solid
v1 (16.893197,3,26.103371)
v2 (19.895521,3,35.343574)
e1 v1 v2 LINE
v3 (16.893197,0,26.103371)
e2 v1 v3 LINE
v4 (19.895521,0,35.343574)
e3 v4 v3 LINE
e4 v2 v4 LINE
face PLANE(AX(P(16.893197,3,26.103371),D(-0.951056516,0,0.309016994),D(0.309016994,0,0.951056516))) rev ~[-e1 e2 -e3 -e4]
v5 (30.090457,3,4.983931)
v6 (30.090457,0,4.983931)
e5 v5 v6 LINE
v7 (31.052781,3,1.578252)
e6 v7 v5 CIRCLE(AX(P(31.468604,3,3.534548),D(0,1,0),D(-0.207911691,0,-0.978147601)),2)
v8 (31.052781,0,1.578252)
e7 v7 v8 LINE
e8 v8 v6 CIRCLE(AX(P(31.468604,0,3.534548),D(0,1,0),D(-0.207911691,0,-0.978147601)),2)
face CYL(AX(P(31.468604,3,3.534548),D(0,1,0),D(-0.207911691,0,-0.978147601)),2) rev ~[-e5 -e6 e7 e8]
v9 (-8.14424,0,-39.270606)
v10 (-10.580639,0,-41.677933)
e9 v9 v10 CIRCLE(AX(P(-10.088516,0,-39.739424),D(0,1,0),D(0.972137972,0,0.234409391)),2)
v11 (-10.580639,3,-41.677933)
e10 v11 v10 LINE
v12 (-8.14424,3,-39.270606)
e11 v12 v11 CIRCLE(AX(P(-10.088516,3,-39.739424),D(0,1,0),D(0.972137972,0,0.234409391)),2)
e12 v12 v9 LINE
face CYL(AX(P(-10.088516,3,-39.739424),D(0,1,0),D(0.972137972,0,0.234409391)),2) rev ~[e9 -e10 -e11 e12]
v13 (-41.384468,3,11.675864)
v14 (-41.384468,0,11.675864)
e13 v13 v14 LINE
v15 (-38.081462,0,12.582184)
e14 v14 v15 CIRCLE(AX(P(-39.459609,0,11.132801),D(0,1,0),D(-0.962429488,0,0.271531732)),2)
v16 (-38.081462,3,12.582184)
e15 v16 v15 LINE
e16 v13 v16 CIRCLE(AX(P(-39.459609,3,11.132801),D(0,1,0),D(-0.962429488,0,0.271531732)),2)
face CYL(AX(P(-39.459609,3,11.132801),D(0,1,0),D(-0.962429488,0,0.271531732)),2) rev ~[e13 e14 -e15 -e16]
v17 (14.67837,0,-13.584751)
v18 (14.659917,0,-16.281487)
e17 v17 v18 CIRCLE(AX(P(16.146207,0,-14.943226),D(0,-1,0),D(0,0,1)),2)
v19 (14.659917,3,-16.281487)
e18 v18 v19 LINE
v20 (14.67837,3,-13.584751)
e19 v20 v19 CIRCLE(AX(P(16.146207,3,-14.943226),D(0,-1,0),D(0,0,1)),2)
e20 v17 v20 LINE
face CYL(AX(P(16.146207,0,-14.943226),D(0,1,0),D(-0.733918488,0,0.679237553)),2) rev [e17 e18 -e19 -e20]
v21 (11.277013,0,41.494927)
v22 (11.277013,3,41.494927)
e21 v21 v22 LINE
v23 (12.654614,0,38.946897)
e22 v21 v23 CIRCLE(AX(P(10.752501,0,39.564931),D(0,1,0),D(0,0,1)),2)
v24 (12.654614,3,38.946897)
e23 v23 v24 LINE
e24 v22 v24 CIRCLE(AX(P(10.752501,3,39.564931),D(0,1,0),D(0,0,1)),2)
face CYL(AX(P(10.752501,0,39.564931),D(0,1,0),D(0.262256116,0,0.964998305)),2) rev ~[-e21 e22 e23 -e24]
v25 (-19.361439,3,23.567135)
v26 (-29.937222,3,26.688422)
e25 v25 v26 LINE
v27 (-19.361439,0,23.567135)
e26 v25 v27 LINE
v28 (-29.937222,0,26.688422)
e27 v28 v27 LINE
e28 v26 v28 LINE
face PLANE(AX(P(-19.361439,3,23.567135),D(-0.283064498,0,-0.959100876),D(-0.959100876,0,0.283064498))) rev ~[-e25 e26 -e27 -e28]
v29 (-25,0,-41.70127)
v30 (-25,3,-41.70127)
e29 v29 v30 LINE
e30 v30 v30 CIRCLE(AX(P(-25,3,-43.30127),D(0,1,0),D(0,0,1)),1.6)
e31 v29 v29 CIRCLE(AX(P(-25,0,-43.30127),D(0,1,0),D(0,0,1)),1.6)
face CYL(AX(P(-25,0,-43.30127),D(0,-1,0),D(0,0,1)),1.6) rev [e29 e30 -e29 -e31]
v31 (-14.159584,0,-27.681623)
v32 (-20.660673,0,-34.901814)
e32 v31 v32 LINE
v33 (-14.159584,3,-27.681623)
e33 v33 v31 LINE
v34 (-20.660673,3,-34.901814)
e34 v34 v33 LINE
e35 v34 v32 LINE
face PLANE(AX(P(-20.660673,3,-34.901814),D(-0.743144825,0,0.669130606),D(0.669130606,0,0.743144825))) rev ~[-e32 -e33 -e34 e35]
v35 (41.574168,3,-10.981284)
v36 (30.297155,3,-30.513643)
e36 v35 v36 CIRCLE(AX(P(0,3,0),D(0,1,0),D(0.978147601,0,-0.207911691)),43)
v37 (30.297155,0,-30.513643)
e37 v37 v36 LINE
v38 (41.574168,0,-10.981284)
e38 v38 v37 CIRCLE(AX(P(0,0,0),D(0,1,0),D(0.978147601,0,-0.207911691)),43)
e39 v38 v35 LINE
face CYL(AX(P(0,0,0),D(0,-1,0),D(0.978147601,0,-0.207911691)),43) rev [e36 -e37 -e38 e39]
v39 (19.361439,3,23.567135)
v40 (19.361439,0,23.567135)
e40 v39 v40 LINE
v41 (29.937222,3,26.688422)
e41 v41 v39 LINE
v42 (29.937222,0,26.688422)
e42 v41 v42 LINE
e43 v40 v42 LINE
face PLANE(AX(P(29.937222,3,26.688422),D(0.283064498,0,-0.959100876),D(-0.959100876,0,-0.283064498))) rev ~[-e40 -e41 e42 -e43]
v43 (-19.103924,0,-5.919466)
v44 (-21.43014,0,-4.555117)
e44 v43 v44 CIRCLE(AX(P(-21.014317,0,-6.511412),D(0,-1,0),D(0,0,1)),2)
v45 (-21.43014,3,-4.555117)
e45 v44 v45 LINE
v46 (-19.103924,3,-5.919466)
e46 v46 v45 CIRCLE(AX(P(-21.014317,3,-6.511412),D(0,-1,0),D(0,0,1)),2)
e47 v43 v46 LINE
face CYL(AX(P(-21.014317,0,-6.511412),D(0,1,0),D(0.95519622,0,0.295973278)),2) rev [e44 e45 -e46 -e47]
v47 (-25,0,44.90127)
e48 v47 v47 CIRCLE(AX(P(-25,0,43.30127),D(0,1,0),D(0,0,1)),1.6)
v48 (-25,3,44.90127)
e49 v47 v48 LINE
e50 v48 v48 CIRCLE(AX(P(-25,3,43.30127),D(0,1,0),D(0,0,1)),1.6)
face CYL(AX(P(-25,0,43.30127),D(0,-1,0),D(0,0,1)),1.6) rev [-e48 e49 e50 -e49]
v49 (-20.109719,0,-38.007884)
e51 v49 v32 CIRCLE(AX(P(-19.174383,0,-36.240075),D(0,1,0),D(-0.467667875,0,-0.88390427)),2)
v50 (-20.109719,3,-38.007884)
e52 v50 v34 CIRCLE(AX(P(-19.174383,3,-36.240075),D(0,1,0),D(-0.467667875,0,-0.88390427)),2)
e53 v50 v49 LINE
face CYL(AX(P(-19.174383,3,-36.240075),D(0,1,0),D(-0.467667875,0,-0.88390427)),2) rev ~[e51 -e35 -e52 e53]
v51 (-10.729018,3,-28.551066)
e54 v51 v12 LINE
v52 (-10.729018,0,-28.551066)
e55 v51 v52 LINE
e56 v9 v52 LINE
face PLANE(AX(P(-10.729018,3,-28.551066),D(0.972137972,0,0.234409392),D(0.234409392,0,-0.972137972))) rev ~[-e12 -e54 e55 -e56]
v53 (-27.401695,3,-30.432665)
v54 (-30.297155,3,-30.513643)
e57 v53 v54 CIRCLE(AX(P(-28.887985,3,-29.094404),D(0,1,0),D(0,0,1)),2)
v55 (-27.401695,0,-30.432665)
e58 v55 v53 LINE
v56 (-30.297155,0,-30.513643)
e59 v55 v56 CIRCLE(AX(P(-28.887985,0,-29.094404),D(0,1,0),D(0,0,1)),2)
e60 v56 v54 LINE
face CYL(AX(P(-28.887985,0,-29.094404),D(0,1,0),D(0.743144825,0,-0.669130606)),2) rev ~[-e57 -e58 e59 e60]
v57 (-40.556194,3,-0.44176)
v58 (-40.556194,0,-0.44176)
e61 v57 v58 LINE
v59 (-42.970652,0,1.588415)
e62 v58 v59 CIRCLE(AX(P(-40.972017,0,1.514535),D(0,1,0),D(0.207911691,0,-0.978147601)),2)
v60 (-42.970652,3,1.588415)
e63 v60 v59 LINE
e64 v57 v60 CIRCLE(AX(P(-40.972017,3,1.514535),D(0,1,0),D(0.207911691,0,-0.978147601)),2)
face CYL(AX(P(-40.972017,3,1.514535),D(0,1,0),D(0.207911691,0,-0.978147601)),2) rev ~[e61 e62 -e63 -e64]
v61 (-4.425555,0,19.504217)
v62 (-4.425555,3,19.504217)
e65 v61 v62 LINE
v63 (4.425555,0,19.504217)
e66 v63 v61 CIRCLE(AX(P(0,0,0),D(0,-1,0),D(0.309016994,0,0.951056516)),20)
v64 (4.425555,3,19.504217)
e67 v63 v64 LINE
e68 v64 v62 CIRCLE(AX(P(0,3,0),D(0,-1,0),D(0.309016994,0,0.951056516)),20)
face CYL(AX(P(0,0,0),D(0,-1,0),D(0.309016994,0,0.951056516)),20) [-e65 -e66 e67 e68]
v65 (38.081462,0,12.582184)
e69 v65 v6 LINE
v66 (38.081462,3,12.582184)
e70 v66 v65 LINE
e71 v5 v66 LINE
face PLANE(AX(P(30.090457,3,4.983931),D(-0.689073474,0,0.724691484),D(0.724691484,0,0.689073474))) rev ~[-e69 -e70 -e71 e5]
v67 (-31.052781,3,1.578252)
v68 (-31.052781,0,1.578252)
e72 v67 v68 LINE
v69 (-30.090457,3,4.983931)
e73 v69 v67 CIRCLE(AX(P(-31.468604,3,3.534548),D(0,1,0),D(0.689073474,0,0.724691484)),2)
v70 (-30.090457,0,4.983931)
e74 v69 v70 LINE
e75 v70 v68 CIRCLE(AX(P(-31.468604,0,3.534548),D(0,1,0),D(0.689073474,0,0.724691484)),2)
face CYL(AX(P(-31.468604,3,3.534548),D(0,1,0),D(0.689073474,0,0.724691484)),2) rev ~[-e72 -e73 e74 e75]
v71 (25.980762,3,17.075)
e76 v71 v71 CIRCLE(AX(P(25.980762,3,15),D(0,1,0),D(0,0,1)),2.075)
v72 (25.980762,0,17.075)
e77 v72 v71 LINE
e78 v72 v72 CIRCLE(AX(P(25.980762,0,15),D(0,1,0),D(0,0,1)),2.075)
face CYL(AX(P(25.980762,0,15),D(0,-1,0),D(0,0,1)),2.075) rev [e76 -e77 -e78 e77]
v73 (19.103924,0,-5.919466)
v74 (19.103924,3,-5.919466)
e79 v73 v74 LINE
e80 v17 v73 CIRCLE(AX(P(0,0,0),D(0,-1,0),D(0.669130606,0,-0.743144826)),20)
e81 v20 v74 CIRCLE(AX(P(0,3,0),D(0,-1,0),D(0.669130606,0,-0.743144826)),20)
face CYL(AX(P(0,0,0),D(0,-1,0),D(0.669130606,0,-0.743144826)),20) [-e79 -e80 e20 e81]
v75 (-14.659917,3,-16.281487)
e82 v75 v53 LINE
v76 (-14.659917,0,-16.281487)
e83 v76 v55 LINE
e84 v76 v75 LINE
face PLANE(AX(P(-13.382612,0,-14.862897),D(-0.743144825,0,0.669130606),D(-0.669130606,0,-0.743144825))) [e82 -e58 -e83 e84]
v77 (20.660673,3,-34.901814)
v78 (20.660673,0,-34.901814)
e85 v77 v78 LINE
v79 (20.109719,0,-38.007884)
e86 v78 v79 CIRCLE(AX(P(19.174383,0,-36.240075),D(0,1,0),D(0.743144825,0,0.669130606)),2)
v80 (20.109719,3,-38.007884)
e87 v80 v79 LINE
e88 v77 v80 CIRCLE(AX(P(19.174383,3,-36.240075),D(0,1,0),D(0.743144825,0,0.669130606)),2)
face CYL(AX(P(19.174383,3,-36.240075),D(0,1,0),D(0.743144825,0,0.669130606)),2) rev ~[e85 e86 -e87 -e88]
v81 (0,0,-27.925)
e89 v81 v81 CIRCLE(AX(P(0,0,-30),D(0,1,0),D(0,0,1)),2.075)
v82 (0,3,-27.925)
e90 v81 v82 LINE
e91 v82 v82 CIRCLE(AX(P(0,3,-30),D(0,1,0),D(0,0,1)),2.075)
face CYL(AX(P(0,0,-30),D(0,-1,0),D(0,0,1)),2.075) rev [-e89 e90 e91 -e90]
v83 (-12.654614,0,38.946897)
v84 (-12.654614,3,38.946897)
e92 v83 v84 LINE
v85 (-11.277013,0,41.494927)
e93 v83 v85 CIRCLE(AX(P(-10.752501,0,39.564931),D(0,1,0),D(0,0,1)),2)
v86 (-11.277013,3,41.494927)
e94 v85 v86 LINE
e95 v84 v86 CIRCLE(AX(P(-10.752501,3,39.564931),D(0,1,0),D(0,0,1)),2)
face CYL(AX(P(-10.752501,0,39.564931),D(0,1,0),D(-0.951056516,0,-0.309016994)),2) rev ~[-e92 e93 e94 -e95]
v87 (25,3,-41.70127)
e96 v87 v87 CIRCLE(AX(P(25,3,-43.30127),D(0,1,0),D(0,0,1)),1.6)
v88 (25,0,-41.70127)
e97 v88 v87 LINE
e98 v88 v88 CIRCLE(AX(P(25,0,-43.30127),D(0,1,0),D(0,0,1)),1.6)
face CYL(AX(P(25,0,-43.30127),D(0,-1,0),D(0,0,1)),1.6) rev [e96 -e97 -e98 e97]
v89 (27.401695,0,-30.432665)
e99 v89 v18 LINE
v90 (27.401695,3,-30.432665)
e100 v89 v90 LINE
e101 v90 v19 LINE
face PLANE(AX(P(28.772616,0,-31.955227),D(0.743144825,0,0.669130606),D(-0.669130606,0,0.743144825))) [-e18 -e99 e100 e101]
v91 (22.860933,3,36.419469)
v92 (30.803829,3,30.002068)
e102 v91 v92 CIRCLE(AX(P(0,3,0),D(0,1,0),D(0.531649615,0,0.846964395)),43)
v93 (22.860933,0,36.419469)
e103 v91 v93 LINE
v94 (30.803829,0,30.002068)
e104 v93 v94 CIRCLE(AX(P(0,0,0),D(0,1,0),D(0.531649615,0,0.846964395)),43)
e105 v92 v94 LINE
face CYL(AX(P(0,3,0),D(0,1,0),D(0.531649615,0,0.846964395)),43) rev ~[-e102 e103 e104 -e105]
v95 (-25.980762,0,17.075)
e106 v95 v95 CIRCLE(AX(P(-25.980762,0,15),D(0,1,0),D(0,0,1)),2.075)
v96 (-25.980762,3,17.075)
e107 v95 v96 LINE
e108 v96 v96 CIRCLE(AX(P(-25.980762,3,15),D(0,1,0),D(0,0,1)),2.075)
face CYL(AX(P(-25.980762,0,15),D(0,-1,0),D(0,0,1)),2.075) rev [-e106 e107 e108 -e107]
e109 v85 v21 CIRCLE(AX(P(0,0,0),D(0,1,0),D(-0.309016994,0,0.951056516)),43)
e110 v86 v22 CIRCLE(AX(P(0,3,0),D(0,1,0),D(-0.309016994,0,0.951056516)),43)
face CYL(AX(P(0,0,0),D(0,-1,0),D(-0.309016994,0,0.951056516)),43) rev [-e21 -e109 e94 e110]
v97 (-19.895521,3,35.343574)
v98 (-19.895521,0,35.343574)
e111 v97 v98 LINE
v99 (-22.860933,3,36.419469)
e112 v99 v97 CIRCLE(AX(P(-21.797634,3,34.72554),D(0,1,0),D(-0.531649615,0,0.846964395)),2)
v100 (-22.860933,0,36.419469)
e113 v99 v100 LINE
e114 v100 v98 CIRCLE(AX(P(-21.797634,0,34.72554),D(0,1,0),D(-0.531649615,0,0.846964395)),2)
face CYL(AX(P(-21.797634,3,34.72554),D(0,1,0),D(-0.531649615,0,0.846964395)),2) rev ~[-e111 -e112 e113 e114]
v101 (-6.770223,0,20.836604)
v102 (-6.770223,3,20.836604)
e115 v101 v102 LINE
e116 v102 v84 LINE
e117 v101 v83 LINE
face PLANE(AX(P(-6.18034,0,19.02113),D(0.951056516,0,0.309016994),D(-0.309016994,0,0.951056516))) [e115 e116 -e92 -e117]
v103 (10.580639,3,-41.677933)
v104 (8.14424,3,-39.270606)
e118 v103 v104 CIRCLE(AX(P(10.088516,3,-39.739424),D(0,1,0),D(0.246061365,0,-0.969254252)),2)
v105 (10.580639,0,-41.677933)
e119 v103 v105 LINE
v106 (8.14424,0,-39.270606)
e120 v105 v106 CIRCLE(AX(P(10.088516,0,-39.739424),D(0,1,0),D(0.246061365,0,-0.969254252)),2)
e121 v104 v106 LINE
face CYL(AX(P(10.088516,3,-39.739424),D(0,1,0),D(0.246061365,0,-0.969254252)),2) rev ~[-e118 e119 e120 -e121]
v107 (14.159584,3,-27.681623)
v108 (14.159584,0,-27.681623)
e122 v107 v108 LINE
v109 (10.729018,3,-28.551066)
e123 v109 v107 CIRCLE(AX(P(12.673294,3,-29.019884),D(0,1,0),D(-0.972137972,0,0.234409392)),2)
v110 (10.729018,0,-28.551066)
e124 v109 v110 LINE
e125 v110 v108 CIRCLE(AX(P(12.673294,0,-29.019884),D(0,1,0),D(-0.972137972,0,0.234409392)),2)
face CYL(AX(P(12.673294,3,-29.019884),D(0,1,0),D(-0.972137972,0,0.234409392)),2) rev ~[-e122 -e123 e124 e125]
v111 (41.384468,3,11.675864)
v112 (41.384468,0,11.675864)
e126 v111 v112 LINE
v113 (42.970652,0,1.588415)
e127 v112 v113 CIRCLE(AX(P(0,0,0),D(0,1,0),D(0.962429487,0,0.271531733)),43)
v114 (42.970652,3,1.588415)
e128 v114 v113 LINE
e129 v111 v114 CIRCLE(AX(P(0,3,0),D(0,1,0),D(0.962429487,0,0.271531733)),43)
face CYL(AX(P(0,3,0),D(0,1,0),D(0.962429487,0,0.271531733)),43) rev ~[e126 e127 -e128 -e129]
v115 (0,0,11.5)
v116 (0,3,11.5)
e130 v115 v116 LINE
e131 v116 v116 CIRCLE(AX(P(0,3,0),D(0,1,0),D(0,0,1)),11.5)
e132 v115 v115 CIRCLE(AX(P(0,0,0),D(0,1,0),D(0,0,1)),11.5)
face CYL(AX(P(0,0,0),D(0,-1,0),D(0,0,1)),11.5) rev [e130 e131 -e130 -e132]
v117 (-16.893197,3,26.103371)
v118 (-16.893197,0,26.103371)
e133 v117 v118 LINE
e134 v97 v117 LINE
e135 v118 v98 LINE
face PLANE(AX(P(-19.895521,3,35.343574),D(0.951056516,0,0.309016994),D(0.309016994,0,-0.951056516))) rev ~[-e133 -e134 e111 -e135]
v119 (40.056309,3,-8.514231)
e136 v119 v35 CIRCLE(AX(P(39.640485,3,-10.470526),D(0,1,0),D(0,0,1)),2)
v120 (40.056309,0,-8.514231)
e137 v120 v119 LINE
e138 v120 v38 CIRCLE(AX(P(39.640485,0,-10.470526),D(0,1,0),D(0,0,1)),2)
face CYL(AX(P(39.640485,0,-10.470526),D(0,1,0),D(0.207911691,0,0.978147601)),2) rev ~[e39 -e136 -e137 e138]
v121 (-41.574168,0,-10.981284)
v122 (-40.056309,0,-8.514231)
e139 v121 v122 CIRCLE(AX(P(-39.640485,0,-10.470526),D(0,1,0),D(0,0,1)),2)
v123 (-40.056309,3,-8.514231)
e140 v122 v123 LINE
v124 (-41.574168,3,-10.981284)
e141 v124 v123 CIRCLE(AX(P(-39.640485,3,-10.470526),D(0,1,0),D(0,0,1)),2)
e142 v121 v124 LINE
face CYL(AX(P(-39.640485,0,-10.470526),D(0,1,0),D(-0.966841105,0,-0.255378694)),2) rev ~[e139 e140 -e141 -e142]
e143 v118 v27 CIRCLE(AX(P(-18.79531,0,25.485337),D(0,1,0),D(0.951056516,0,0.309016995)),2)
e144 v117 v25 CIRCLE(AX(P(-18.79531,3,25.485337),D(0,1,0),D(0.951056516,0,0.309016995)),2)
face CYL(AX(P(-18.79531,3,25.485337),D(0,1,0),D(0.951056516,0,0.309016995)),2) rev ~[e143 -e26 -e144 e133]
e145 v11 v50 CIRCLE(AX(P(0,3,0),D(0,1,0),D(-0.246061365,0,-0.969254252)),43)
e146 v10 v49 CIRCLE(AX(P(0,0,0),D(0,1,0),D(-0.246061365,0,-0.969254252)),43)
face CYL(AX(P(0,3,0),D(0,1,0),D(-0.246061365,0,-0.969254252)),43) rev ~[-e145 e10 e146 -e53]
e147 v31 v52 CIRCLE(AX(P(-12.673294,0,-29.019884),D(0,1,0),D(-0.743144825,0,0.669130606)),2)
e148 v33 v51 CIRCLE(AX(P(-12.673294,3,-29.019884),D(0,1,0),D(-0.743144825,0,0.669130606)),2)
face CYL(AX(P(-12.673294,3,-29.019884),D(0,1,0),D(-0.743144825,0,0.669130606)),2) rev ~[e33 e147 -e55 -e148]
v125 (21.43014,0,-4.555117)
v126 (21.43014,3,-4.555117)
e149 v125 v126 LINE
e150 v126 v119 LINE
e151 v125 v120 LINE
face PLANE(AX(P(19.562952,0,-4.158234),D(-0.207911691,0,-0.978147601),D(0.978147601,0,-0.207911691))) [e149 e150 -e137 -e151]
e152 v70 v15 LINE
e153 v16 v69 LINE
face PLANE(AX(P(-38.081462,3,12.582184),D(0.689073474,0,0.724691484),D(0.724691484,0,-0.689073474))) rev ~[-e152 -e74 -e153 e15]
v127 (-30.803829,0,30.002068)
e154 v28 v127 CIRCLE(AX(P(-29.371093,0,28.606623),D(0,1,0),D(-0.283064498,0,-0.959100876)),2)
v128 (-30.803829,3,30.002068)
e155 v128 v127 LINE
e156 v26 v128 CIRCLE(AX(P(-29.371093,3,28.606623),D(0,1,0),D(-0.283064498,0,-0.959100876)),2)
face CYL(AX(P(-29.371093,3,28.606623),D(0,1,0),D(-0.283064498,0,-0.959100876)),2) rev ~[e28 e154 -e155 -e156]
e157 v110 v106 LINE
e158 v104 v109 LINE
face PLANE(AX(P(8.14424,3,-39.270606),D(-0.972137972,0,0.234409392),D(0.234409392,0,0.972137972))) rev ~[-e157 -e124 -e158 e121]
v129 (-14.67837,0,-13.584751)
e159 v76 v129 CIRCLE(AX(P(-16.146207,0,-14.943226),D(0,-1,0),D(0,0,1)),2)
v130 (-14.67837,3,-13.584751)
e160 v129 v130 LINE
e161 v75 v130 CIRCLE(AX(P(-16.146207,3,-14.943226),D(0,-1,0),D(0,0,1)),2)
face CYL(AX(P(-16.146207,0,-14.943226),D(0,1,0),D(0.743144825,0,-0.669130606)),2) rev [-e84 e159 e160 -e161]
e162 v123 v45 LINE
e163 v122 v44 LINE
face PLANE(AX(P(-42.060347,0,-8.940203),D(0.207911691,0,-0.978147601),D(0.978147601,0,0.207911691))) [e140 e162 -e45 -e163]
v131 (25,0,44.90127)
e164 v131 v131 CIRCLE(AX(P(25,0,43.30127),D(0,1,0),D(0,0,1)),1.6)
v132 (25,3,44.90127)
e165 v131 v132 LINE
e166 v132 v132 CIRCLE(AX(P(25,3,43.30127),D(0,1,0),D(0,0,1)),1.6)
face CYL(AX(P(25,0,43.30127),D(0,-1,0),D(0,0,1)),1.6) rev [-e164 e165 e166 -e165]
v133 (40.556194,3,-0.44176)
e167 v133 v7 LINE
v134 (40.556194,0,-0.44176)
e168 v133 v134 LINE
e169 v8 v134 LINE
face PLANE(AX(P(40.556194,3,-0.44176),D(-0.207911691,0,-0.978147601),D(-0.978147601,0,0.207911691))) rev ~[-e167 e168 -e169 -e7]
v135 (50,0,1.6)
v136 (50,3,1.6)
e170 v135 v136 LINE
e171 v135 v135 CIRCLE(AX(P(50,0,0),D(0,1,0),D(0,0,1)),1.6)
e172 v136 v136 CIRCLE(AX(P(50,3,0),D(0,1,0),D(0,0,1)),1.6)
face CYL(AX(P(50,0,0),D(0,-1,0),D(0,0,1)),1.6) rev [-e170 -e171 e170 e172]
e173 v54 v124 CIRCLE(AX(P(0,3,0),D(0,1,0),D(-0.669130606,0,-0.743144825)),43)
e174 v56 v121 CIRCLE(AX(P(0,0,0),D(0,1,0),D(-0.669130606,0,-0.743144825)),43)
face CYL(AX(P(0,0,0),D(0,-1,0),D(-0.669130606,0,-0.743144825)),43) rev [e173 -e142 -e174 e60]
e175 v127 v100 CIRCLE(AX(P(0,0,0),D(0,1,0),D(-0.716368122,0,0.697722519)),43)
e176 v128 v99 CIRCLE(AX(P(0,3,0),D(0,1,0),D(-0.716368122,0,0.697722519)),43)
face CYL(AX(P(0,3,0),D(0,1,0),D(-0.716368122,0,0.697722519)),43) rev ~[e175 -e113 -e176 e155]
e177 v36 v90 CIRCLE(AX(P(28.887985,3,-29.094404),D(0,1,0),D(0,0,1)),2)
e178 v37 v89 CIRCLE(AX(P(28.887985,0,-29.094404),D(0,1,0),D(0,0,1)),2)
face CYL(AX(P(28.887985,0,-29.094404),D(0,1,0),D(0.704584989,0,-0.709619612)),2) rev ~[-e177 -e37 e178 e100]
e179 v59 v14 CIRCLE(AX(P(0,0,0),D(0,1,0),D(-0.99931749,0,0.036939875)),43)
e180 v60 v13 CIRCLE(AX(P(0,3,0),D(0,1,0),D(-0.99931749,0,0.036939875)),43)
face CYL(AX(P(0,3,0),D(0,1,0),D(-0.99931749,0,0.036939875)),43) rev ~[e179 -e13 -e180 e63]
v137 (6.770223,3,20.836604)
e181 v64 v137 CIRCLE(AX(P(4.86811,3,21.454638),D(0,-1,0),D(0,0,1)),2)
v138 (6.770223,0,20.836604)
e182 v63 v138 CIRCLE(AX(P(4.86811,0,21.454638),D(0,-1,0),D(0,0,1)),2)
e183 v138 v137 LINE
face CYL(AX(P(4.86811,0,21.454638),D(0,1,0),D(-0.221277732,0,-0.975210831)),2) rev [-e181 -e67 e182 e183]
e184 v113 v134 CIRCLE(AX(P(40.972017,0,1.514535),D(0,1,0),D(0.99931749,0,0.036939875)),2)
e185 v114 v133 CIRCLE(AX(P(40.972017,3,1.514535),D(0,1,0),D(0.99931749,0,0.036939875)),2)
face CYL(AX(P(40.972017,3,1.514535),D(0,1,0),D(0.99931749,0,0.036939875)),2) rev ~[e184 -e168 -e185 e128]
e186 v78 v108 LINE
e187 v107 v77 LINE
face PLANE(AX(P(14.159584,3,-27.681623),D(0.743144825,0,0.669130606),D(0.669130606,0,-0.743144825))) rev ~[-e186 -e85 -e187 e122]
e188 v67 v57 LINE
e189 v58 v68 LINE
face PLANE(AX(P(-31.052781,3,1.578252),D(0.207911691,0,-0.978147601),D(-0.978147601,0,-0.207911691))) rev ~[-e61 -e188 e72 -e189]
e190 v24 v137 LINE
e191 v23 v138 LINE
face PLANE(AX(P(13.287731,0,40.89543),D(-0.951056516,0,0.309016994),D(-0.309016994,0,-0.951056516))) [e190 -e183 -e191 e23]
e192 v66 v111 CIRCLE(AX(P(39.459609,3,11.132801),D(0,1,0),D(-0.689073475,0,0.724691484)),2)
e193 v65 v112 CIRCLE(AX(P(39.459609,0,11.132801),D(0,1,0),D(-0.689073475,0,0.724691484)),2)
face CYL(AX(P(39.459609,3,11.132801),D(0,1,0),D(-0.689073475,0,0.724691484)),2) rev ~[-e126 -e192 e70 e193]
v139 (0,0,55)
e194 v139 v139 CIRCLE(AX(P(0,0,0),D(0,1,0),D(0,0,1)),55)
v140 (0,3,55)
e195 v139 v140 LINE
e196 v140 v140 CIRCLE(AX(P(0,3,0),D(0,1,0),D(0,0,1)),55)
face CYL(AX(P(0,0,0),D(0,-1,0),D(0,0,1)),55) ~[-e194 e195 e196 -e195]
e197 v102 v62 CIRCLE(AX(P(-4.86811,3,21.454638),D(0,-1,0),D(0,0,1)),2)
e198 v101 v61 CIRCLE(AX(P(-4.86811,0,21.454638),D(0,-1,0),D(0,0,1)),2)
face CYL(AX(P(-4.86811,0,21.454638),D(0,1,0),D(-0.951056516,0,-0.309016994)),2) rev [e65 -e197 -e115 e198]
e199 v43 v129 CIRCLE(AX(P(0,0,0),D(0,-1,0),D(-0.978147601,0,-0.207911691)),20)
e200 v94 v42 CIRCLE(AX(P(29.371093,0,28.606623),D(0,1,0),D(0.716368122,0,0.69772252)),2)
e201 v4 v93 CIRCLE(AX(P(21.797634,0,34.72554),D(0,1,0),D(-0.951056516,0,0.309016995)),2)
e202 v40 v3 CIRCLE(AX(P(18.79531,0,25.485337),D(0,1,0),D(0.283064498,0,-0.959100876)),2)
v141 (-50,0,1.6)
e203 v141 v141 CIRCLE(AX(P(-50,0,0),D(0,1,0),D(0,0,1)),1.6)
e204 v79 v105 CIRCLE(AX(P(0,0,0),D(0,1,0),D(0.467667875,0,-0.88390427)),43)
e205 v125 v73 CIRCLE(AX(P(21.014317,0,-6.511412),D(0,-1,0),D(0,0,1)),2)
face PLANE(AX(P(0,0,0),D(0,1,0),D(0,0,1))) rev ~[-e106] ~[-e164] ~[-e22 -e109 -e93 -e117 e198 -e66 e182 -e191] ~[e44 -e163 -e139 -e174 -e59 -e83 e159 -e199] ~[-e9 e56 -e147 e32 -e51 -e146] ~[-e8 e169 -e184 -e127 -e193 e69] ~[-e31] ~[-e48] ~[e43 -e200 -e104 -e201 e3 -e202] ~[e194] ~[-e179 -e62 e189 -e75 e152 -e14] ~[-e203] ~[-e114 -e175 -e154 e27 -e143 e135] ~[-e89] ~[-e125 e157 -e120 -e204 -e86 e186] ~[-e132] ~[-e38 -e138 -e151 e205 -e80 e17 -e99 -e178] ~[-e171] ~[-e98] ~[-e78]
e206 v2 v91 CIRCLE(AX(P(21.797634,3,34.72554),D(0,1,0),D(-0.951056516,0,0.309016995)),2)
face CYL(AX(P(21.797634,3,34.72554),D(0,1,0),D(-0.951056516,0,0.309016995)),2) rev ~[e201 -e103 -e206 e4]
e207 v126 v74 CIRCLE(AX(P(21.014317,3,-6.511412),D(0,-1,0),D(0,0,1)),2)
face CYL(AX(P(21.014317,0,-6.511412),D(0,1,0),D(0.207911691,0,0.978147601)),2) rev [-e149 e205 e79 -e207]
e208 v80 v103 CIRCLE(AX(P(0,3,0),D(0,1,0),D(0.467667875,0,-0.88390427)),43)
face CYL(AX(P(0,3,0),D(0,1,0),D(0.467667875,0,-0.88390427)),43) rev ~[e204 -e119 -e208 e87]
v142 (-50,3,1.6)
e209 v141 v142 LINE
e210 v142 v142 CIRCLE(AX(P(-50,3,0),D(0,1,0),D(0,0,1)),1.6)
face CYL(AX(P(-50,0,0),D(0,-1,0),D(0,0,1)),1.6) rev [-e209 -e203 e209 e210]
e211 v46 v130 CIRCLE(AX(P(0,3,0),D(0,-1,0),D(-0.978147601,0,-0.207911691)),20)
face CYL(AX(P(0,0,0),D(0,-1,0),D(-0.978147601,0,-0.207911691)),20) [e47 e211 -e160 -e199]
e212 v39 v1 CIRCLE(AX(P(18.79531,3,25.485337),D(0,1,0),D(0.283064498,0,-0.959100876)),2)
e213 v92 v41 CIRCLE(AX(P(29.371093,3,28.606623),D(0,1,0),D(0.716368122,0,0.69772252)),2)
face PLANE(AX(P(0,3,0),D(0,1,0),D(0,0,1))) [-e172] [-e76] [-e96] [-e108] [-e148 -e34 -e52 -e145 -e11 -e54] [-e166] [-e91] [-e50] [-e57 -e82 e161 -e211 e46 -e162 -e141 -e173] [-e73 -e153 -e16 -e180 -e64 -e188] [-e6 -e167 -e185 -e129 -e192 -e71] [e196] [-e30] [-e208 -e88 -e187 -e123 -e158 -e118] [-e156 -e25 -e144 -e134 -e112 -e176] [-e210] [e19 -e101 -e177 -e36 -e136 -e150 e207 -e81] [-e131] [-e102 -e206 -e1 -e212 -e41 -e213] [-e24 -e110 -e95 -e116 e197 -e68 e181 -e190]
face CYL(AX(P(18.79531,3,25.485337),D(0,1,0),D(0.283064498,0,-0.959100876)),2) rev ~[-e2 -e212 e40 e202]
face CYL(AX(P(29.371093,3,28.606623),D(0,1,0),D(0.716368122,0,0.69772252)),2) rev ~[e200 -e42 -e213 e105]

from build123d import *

# Parameters (mm, degrees)
SKETCH_1_R          = 55
SKETCH_1_R_2        = 11.5
SKETCH_1_R_3        = 2.075
SKETCH_1_R_4        = 1.6
EXTRUDE_1_DEPTH     = 3
CUT_EXTRUDE_1_REACH = 79.84
FILLET_1_R          = 2


with BuildPart() as part:
    # 草图1 → 凸台-拉伸1 (new body)
    with BuildSketch(Plane(origin=(0, 0, 0), x_dir=(1, 0, 0), z_dir=(0, 1, 0))):
        with Locations(Location((0, 0, 0), (0, 0, 270))):
            Circle(SKETCH_1_R)
        with Locations(Location((0, 0, 0), (0, 0, 270))):
            Circle(SKETCH_1_R_2, mode=Mode.SUBTRACT)
        with Locations(Location((0, 30, 0), (0, 0, 270))):
            Circle(SKETCH_1_R_3, mode=Mode.SUBTRACT)
        with Locations(Location((25.980762114, -15, 0), (0, 0, 270))):
            Circle(SKETCH_1_R_3, mode=Mode.SUBTRACT)
        with Locations(Location((-25.980762114, -15, 0), (0, 0, 270))):
            Circle(SKETCH_1_R_3, mode=Mode.SUBTRACT)
        with Locations(Location((25, 43.301270189, 0), (0, 0, 270))):
            Circle(SKETCH_1_R_4, mode=Mode.SUBTRACT)
        with Locations(Location((50, 0, 0), (0, 0, 270))):
            Circle(SKETCH_1_R_4, mode=Mode.SUBTRACT)
        with Locations(Location((25, -43.301270189, 0), (0, 0, 270))):
            Circle(SKETCH_1_R_4, mode=Mode.SUBTRACT)
        with Locations(Location((-25, -43.301270189, 0), (0, 0, 270))):
            Circle(SKETCH_1_R_4, mode=Mode.SUBTRACT)
        with Locations(Location((-50, 0, 0), (0, 0, 270))):
            Circle(SKETCH_1_R_4, mode=Mode.SUBTRACT)
        with Locations(Location((-25, 43.301270189, 0), (0, 0, 270))):
            Circle(SKETCH_1_R_4, mode=Mode.SUBTRACT)
        with BuildLine():
            Line((-13.382612127, 14.86289651), (-28.772616073, 31.955227496))
            ThreePointArc((-28.772616073, 31.955227496), (-37.239092363, 21.5), (-42.060346832, 8.940202705))
            Line((-42.060346832, 8.940202705), (-19.562952015, 4.158233816))
            ThreePointArc((-19.562952015, 4.158233816), (-17.320508076, 10), (-13.382612127, 14.86289651))
        make_face(mode=Mode.SUBTRACT)
        with BuildLine():
            Line((19.562952015, 4.158233816), (42.060346832, 8.940202705))
            ThreePointArc((42.060346832, 8.940202705), (37.239092363, 21.5), (28.772616073, 31.955227496))
            Line((28.772616073, 31.955227496), (13.382612127, 14.86289651))
            ThreePointArc((13.382612127, 14.86289651), (17.320508076, 10), (19.562952015, 4.158233816))
        make_face(mode=Mode.SUBTRACT)
        with BuildLine():
            Line((-6.180339887, -19.021130326), (-13.287730758, -40.895430201))
            ThreePointArc((-13.287730758, -40.895430201), (0, -43), (13.287730758, -40.895430201))
            Line((13.287730758, -40.895430201), (6.180339887, -19.021130326))
            ThreePointArc((6.180339887, -19.021130326), (0, -20), (-6.180339887, -19.021130326))
        make_face(mode=Mode.SUBTRACT)
    extrude(amount=EXTRUDE_1_DEPTH)

    # 草图3 → 切除-拉伸1 (cut, up to next)
    with BuildSketch(Plane(origin=(0, 3, 0), x_dir=(1, 0, 0), z_dir=(0, 1, 0)), mode=Mode.PRIVATE) as cut_extrude_1_sk1:
        with BuildLine():
            Line((-20.66067252, 34.901813864), (-14.159583627, 27.68162318))
            ThreePointArc((-14.159583627, 27.68162318), (-12.181948481, 27.081178741), (-10.729018032, 28.551065609))
            Line((-10.729018032, 28.551065609), (-8.14424004, 39.270605536))
            ThreePointArc((-8.14424004, 39.270605536), (-8.682815659, 41.162100176), (-10.580638715, 41.677932823))
            ThreePointArc((-10.580638715, 41.677932823), (-15.454508197, 40.126776302), (-20.109718619, 38.007883617))
            ThreePointArc((-20.109718619, 38.007883617), (-21.143642812, 36.589381929), (-20.66067252, 34.901813864))
        make_face()
    cut_extrude_1_tool1 = extrude(cut_extrude_1_sk1.sketch, amount=-CUT_EXTRUDE_1_REACH, mode=Mode.PRIVATE) & part.part
    # 草图3 → 切除-拉伸1 (cut, up to next)
    with BuildSketch(Plane(origin=(0, 3, 0), x_dir=(1, 0, 0), z_dir=(0, 1, 0)), mode=Mode.PRIVATE) as cut_extrude_1_sk2:
        with BuildLine():
            Line((8.14424004, 39.270605536), (10.729018032, 28.551065609))
            ThreePointArc((10.729018032, 28.551065609), (12.181948481, 27.081178741), (14.159583627, 27.68162318))
            Line((14.159583627, 27.68162318), (20.66067252, 34.901813864))
            ThreePointArc((20.66067252, 34.901813864), (21.143642812, 36.589381929), (20.109718619, 38.007883617))
            ThreePointArc((20.109718619, 38.007883617), (15.454508197, 40.126776302), (10.580638715, 41.677932823))
            ThreePointArc((10.580638715, 41.677932823), (8.682815659, 41.162100176), (8.14424004, 39.270605536))
        make_face()
    cut_extrude_1_tool2 = extrude(cut_extrude_1_sk2.sketch, amount=-CUT_EXTRUDE_1_REACH, mode=Mode.PRIVATE) & part.part
    # 草图3 → 切除-拉伸1 (cut, up to next)
    with BuildSketch(Plane(origin=(0, 3, 0), x_dir=(1, 0, 0), z_dir=(0, 1, 0)), mode=Mode.PRIVATE) as cut_extrude_1_sk3:
        with BuildLine():
            Line((40.556193705, 0.441760329), (31.052780705, -1.578252462))
            ThreePointArc((31.052780705, -1.578252462), (29.543962994, -2.990712518), (30.090457138, -4.983930631))
            Line((30.090457138, -4.983930631), (38.081462036, -12.582183999))
            ThreePointArc((38.081462036, -12.582183999), (39.988832255, -13.061511152), (41.384467959, -11.675864496))
            ThreePointArc((41.384467959, -11.675864496), (42.478061748, -6.679391449), (42.970652066, -1.588414622))
            ThreePointArc((42.970652066, -1.588414622), (42.259155666, 0.016240839), (40.556193705, 0.441760329))
        make_face()
    cut_extrude_1_tool3 = extrude(cut_extrude_1_sk3.sketch, amount=-CUT_EXTRUDE_1_REACH, mode=Mode.PRIVATE) & part.part
    # 草图3 → 切除-拉伸1 (cut, up to next)
    with BuildSketch(Plane(origin=(0, 3, 0), x_dir=(1, 0, 0), z_dir=(0, 1, 0)), mode=Mode.PRIVATE) as cut_extrude_1_sk4:
        with BuildLine():
            Line((29.937221996, -26.688421537), (19.361439106, -23.567134977))
            ThreePointArc((19.361439106, -23.567134977), (17.362014513, -24.090466222), (16.893197078, -26.103370718))
            Line((16.893197078, -26.103370718), (19.895521185, -35.343574194))
            ThreePointArc((19.895521185, -35.343574194), (21.115512854, -36.605622768), (22.860933447, -36.419468995))
            ThreePointArc((22.860933447, -36.419468995), (27.023553551, -33.447384853), (30.803829244, -30.002068327))
            ThreePointArc((30.803829244, -30.002068327), (31.306016597, -28.100589025), (29.937221996, -26.688421537))
        make_face()
    cut_extrude_1_tool4 = extrude(cut_extrude_1_sk4.sketch, amount=-CUT_EXTRUDE_1_REACH, mode=Mode.PRIVATE) & part.part
    # 草图3 → 切除-拉伸1 (cut, up to next)
    with BuildSketch(Plane(origin=(0, 3, 0), x_dir=(1, 0, 0), z_dir=(0, 1, 0)), mode=Mode.PRIVATE) as cut_extrude_1_sk5:
        with BuildLine():
            Line((-19.895521185, -35.343574194), (-16.893197078, -26.103370718))
            ThreePointArc((-16.893197078, -26.103370718), (-17.362014513, -24.090466222), (-19.361439106, -23.567134977))
            Line((-19.361439106, -23.567134977), (-29.937221996, -26.688421537))
            ThreePointArc((-29.937221996, -26.688421537), (-31.306016597, -28.100589025), (-30.803829244, -30.002068327))
            ThreePointArc((-30.803829244, -30.002068327), (-27.023553551, -33.447384853), (-22.860933447, -36.419468995))
            ThreePointArc((-22.860933447, -36.419468995), (-21.115512854, -36.605622768), (-19.895521185, -35.343574194))
        make_face()
    cut_extrude_1_tool5 = extrude(cut_extrude_1_sk5.sketch, amount=-CUT_EXTRUDE_1_REACH, mode=Mode.PRIVATE) & part.part
    # 草图3 → 切除-拉伸1 (cut, up to next)
    with BuildSketch(Plane(origin=(0, 3, 0), x_dir=(1, 0, 0), z_dir=(0, 1, 0)), mode=Mode.PRIVATE) as cut_extrude_1_sk6:
        with BuildLine():
            Line((-38.081462036, -12.582183999), (-30.090457138, -4.983930631))
            ThreePointArc((-30.090457138, -4.983930631), (-29.543962994, -2.990712518), (-31.052780705, -1.578252462))
            Line((-31.052780705, -1.578252462), (-40.556193705, 0.441760329))
            ThreePointArc((-40.556193705, 0.441760329), (-42.259155666, 0.016240839), (-42.970652066, -1.588414622))
            ThreePointArc((-42.970652066, -1.588414622), (-42.478061748, -6.679391449), (-41.384467959, -11.675864496))
            ThreePointArc((-41.384467959, -11.675864496), (-39.988832255, -13.061511152), (-38.081462036, -12.582183999))
        make_face()
    cut_extrude_1_tool6 = extrude(cut_extrude_1_sk6.sketch, amount=-CUT_EXTRUDE_1_REACH, mode=Mode.PRIVATE) & part.part
    add(cut_extrude_1_tool1.solids().sort_by_distance((-13.924139, 3, -35.062692))[0], mode=Mode.SUBTRACT)
    add(cut_extrude_1_tool2.solids().sort_by_distance((13.924139, 3, -35.062692))[0], mode=Mode.SUBTRACT)
    add(cut_extrude_1_tool3.solids().sort_by_distance((37.327251, 3, 5.472688))[0], mode=Mode.SUBTRACT)
    add(cut_extrude_1_tool4.solids().sort_by_distance((23.403112, 3, 29.590004))[0], mode=Mode.SUBTRACT)
    add(cut_extrude_1_tool5.solids().sort_by_distance((-23.403112, 3, 29.590004))[0], mode=Mode.SUBTRACT)
    add(cut_extrude_1_tool6.solids().sort_by_distance((-37.327251, 3, 5.472688))[0], mode=Mode.SUBTRACT)

    # 圆角1
    fillet_1_edges = [part.edges().sort_by_distance(p)[0] for p in [
        (-28.772616073, 1.5, -31.955227496),
        (-42.060346832, 1.5, -8.940202705),
        (-19.562952015, 1.5, -4.158233816),
        (-13.382612127, 1.5, -14.86289651),
        (42.060346832, 1.5, -8.940202705),
        (28.772616073, 1.5, -31.955227496),
        (13.382612127, 1.5, -14.86289651),
        (19.562952015, 1.5, -4.158233816),
        (-13.287730758, 1.5, 40.895430201),
        (13.287730758, 1.5, 40.895430201),
        (6.180339887, 1.5, 19.021130326),
        (-6.180339887, 1.5, 19.021130326),
    ]]
    fillet(fillet_1_edges, radius=FILLET_1_R)


solid = part.part
